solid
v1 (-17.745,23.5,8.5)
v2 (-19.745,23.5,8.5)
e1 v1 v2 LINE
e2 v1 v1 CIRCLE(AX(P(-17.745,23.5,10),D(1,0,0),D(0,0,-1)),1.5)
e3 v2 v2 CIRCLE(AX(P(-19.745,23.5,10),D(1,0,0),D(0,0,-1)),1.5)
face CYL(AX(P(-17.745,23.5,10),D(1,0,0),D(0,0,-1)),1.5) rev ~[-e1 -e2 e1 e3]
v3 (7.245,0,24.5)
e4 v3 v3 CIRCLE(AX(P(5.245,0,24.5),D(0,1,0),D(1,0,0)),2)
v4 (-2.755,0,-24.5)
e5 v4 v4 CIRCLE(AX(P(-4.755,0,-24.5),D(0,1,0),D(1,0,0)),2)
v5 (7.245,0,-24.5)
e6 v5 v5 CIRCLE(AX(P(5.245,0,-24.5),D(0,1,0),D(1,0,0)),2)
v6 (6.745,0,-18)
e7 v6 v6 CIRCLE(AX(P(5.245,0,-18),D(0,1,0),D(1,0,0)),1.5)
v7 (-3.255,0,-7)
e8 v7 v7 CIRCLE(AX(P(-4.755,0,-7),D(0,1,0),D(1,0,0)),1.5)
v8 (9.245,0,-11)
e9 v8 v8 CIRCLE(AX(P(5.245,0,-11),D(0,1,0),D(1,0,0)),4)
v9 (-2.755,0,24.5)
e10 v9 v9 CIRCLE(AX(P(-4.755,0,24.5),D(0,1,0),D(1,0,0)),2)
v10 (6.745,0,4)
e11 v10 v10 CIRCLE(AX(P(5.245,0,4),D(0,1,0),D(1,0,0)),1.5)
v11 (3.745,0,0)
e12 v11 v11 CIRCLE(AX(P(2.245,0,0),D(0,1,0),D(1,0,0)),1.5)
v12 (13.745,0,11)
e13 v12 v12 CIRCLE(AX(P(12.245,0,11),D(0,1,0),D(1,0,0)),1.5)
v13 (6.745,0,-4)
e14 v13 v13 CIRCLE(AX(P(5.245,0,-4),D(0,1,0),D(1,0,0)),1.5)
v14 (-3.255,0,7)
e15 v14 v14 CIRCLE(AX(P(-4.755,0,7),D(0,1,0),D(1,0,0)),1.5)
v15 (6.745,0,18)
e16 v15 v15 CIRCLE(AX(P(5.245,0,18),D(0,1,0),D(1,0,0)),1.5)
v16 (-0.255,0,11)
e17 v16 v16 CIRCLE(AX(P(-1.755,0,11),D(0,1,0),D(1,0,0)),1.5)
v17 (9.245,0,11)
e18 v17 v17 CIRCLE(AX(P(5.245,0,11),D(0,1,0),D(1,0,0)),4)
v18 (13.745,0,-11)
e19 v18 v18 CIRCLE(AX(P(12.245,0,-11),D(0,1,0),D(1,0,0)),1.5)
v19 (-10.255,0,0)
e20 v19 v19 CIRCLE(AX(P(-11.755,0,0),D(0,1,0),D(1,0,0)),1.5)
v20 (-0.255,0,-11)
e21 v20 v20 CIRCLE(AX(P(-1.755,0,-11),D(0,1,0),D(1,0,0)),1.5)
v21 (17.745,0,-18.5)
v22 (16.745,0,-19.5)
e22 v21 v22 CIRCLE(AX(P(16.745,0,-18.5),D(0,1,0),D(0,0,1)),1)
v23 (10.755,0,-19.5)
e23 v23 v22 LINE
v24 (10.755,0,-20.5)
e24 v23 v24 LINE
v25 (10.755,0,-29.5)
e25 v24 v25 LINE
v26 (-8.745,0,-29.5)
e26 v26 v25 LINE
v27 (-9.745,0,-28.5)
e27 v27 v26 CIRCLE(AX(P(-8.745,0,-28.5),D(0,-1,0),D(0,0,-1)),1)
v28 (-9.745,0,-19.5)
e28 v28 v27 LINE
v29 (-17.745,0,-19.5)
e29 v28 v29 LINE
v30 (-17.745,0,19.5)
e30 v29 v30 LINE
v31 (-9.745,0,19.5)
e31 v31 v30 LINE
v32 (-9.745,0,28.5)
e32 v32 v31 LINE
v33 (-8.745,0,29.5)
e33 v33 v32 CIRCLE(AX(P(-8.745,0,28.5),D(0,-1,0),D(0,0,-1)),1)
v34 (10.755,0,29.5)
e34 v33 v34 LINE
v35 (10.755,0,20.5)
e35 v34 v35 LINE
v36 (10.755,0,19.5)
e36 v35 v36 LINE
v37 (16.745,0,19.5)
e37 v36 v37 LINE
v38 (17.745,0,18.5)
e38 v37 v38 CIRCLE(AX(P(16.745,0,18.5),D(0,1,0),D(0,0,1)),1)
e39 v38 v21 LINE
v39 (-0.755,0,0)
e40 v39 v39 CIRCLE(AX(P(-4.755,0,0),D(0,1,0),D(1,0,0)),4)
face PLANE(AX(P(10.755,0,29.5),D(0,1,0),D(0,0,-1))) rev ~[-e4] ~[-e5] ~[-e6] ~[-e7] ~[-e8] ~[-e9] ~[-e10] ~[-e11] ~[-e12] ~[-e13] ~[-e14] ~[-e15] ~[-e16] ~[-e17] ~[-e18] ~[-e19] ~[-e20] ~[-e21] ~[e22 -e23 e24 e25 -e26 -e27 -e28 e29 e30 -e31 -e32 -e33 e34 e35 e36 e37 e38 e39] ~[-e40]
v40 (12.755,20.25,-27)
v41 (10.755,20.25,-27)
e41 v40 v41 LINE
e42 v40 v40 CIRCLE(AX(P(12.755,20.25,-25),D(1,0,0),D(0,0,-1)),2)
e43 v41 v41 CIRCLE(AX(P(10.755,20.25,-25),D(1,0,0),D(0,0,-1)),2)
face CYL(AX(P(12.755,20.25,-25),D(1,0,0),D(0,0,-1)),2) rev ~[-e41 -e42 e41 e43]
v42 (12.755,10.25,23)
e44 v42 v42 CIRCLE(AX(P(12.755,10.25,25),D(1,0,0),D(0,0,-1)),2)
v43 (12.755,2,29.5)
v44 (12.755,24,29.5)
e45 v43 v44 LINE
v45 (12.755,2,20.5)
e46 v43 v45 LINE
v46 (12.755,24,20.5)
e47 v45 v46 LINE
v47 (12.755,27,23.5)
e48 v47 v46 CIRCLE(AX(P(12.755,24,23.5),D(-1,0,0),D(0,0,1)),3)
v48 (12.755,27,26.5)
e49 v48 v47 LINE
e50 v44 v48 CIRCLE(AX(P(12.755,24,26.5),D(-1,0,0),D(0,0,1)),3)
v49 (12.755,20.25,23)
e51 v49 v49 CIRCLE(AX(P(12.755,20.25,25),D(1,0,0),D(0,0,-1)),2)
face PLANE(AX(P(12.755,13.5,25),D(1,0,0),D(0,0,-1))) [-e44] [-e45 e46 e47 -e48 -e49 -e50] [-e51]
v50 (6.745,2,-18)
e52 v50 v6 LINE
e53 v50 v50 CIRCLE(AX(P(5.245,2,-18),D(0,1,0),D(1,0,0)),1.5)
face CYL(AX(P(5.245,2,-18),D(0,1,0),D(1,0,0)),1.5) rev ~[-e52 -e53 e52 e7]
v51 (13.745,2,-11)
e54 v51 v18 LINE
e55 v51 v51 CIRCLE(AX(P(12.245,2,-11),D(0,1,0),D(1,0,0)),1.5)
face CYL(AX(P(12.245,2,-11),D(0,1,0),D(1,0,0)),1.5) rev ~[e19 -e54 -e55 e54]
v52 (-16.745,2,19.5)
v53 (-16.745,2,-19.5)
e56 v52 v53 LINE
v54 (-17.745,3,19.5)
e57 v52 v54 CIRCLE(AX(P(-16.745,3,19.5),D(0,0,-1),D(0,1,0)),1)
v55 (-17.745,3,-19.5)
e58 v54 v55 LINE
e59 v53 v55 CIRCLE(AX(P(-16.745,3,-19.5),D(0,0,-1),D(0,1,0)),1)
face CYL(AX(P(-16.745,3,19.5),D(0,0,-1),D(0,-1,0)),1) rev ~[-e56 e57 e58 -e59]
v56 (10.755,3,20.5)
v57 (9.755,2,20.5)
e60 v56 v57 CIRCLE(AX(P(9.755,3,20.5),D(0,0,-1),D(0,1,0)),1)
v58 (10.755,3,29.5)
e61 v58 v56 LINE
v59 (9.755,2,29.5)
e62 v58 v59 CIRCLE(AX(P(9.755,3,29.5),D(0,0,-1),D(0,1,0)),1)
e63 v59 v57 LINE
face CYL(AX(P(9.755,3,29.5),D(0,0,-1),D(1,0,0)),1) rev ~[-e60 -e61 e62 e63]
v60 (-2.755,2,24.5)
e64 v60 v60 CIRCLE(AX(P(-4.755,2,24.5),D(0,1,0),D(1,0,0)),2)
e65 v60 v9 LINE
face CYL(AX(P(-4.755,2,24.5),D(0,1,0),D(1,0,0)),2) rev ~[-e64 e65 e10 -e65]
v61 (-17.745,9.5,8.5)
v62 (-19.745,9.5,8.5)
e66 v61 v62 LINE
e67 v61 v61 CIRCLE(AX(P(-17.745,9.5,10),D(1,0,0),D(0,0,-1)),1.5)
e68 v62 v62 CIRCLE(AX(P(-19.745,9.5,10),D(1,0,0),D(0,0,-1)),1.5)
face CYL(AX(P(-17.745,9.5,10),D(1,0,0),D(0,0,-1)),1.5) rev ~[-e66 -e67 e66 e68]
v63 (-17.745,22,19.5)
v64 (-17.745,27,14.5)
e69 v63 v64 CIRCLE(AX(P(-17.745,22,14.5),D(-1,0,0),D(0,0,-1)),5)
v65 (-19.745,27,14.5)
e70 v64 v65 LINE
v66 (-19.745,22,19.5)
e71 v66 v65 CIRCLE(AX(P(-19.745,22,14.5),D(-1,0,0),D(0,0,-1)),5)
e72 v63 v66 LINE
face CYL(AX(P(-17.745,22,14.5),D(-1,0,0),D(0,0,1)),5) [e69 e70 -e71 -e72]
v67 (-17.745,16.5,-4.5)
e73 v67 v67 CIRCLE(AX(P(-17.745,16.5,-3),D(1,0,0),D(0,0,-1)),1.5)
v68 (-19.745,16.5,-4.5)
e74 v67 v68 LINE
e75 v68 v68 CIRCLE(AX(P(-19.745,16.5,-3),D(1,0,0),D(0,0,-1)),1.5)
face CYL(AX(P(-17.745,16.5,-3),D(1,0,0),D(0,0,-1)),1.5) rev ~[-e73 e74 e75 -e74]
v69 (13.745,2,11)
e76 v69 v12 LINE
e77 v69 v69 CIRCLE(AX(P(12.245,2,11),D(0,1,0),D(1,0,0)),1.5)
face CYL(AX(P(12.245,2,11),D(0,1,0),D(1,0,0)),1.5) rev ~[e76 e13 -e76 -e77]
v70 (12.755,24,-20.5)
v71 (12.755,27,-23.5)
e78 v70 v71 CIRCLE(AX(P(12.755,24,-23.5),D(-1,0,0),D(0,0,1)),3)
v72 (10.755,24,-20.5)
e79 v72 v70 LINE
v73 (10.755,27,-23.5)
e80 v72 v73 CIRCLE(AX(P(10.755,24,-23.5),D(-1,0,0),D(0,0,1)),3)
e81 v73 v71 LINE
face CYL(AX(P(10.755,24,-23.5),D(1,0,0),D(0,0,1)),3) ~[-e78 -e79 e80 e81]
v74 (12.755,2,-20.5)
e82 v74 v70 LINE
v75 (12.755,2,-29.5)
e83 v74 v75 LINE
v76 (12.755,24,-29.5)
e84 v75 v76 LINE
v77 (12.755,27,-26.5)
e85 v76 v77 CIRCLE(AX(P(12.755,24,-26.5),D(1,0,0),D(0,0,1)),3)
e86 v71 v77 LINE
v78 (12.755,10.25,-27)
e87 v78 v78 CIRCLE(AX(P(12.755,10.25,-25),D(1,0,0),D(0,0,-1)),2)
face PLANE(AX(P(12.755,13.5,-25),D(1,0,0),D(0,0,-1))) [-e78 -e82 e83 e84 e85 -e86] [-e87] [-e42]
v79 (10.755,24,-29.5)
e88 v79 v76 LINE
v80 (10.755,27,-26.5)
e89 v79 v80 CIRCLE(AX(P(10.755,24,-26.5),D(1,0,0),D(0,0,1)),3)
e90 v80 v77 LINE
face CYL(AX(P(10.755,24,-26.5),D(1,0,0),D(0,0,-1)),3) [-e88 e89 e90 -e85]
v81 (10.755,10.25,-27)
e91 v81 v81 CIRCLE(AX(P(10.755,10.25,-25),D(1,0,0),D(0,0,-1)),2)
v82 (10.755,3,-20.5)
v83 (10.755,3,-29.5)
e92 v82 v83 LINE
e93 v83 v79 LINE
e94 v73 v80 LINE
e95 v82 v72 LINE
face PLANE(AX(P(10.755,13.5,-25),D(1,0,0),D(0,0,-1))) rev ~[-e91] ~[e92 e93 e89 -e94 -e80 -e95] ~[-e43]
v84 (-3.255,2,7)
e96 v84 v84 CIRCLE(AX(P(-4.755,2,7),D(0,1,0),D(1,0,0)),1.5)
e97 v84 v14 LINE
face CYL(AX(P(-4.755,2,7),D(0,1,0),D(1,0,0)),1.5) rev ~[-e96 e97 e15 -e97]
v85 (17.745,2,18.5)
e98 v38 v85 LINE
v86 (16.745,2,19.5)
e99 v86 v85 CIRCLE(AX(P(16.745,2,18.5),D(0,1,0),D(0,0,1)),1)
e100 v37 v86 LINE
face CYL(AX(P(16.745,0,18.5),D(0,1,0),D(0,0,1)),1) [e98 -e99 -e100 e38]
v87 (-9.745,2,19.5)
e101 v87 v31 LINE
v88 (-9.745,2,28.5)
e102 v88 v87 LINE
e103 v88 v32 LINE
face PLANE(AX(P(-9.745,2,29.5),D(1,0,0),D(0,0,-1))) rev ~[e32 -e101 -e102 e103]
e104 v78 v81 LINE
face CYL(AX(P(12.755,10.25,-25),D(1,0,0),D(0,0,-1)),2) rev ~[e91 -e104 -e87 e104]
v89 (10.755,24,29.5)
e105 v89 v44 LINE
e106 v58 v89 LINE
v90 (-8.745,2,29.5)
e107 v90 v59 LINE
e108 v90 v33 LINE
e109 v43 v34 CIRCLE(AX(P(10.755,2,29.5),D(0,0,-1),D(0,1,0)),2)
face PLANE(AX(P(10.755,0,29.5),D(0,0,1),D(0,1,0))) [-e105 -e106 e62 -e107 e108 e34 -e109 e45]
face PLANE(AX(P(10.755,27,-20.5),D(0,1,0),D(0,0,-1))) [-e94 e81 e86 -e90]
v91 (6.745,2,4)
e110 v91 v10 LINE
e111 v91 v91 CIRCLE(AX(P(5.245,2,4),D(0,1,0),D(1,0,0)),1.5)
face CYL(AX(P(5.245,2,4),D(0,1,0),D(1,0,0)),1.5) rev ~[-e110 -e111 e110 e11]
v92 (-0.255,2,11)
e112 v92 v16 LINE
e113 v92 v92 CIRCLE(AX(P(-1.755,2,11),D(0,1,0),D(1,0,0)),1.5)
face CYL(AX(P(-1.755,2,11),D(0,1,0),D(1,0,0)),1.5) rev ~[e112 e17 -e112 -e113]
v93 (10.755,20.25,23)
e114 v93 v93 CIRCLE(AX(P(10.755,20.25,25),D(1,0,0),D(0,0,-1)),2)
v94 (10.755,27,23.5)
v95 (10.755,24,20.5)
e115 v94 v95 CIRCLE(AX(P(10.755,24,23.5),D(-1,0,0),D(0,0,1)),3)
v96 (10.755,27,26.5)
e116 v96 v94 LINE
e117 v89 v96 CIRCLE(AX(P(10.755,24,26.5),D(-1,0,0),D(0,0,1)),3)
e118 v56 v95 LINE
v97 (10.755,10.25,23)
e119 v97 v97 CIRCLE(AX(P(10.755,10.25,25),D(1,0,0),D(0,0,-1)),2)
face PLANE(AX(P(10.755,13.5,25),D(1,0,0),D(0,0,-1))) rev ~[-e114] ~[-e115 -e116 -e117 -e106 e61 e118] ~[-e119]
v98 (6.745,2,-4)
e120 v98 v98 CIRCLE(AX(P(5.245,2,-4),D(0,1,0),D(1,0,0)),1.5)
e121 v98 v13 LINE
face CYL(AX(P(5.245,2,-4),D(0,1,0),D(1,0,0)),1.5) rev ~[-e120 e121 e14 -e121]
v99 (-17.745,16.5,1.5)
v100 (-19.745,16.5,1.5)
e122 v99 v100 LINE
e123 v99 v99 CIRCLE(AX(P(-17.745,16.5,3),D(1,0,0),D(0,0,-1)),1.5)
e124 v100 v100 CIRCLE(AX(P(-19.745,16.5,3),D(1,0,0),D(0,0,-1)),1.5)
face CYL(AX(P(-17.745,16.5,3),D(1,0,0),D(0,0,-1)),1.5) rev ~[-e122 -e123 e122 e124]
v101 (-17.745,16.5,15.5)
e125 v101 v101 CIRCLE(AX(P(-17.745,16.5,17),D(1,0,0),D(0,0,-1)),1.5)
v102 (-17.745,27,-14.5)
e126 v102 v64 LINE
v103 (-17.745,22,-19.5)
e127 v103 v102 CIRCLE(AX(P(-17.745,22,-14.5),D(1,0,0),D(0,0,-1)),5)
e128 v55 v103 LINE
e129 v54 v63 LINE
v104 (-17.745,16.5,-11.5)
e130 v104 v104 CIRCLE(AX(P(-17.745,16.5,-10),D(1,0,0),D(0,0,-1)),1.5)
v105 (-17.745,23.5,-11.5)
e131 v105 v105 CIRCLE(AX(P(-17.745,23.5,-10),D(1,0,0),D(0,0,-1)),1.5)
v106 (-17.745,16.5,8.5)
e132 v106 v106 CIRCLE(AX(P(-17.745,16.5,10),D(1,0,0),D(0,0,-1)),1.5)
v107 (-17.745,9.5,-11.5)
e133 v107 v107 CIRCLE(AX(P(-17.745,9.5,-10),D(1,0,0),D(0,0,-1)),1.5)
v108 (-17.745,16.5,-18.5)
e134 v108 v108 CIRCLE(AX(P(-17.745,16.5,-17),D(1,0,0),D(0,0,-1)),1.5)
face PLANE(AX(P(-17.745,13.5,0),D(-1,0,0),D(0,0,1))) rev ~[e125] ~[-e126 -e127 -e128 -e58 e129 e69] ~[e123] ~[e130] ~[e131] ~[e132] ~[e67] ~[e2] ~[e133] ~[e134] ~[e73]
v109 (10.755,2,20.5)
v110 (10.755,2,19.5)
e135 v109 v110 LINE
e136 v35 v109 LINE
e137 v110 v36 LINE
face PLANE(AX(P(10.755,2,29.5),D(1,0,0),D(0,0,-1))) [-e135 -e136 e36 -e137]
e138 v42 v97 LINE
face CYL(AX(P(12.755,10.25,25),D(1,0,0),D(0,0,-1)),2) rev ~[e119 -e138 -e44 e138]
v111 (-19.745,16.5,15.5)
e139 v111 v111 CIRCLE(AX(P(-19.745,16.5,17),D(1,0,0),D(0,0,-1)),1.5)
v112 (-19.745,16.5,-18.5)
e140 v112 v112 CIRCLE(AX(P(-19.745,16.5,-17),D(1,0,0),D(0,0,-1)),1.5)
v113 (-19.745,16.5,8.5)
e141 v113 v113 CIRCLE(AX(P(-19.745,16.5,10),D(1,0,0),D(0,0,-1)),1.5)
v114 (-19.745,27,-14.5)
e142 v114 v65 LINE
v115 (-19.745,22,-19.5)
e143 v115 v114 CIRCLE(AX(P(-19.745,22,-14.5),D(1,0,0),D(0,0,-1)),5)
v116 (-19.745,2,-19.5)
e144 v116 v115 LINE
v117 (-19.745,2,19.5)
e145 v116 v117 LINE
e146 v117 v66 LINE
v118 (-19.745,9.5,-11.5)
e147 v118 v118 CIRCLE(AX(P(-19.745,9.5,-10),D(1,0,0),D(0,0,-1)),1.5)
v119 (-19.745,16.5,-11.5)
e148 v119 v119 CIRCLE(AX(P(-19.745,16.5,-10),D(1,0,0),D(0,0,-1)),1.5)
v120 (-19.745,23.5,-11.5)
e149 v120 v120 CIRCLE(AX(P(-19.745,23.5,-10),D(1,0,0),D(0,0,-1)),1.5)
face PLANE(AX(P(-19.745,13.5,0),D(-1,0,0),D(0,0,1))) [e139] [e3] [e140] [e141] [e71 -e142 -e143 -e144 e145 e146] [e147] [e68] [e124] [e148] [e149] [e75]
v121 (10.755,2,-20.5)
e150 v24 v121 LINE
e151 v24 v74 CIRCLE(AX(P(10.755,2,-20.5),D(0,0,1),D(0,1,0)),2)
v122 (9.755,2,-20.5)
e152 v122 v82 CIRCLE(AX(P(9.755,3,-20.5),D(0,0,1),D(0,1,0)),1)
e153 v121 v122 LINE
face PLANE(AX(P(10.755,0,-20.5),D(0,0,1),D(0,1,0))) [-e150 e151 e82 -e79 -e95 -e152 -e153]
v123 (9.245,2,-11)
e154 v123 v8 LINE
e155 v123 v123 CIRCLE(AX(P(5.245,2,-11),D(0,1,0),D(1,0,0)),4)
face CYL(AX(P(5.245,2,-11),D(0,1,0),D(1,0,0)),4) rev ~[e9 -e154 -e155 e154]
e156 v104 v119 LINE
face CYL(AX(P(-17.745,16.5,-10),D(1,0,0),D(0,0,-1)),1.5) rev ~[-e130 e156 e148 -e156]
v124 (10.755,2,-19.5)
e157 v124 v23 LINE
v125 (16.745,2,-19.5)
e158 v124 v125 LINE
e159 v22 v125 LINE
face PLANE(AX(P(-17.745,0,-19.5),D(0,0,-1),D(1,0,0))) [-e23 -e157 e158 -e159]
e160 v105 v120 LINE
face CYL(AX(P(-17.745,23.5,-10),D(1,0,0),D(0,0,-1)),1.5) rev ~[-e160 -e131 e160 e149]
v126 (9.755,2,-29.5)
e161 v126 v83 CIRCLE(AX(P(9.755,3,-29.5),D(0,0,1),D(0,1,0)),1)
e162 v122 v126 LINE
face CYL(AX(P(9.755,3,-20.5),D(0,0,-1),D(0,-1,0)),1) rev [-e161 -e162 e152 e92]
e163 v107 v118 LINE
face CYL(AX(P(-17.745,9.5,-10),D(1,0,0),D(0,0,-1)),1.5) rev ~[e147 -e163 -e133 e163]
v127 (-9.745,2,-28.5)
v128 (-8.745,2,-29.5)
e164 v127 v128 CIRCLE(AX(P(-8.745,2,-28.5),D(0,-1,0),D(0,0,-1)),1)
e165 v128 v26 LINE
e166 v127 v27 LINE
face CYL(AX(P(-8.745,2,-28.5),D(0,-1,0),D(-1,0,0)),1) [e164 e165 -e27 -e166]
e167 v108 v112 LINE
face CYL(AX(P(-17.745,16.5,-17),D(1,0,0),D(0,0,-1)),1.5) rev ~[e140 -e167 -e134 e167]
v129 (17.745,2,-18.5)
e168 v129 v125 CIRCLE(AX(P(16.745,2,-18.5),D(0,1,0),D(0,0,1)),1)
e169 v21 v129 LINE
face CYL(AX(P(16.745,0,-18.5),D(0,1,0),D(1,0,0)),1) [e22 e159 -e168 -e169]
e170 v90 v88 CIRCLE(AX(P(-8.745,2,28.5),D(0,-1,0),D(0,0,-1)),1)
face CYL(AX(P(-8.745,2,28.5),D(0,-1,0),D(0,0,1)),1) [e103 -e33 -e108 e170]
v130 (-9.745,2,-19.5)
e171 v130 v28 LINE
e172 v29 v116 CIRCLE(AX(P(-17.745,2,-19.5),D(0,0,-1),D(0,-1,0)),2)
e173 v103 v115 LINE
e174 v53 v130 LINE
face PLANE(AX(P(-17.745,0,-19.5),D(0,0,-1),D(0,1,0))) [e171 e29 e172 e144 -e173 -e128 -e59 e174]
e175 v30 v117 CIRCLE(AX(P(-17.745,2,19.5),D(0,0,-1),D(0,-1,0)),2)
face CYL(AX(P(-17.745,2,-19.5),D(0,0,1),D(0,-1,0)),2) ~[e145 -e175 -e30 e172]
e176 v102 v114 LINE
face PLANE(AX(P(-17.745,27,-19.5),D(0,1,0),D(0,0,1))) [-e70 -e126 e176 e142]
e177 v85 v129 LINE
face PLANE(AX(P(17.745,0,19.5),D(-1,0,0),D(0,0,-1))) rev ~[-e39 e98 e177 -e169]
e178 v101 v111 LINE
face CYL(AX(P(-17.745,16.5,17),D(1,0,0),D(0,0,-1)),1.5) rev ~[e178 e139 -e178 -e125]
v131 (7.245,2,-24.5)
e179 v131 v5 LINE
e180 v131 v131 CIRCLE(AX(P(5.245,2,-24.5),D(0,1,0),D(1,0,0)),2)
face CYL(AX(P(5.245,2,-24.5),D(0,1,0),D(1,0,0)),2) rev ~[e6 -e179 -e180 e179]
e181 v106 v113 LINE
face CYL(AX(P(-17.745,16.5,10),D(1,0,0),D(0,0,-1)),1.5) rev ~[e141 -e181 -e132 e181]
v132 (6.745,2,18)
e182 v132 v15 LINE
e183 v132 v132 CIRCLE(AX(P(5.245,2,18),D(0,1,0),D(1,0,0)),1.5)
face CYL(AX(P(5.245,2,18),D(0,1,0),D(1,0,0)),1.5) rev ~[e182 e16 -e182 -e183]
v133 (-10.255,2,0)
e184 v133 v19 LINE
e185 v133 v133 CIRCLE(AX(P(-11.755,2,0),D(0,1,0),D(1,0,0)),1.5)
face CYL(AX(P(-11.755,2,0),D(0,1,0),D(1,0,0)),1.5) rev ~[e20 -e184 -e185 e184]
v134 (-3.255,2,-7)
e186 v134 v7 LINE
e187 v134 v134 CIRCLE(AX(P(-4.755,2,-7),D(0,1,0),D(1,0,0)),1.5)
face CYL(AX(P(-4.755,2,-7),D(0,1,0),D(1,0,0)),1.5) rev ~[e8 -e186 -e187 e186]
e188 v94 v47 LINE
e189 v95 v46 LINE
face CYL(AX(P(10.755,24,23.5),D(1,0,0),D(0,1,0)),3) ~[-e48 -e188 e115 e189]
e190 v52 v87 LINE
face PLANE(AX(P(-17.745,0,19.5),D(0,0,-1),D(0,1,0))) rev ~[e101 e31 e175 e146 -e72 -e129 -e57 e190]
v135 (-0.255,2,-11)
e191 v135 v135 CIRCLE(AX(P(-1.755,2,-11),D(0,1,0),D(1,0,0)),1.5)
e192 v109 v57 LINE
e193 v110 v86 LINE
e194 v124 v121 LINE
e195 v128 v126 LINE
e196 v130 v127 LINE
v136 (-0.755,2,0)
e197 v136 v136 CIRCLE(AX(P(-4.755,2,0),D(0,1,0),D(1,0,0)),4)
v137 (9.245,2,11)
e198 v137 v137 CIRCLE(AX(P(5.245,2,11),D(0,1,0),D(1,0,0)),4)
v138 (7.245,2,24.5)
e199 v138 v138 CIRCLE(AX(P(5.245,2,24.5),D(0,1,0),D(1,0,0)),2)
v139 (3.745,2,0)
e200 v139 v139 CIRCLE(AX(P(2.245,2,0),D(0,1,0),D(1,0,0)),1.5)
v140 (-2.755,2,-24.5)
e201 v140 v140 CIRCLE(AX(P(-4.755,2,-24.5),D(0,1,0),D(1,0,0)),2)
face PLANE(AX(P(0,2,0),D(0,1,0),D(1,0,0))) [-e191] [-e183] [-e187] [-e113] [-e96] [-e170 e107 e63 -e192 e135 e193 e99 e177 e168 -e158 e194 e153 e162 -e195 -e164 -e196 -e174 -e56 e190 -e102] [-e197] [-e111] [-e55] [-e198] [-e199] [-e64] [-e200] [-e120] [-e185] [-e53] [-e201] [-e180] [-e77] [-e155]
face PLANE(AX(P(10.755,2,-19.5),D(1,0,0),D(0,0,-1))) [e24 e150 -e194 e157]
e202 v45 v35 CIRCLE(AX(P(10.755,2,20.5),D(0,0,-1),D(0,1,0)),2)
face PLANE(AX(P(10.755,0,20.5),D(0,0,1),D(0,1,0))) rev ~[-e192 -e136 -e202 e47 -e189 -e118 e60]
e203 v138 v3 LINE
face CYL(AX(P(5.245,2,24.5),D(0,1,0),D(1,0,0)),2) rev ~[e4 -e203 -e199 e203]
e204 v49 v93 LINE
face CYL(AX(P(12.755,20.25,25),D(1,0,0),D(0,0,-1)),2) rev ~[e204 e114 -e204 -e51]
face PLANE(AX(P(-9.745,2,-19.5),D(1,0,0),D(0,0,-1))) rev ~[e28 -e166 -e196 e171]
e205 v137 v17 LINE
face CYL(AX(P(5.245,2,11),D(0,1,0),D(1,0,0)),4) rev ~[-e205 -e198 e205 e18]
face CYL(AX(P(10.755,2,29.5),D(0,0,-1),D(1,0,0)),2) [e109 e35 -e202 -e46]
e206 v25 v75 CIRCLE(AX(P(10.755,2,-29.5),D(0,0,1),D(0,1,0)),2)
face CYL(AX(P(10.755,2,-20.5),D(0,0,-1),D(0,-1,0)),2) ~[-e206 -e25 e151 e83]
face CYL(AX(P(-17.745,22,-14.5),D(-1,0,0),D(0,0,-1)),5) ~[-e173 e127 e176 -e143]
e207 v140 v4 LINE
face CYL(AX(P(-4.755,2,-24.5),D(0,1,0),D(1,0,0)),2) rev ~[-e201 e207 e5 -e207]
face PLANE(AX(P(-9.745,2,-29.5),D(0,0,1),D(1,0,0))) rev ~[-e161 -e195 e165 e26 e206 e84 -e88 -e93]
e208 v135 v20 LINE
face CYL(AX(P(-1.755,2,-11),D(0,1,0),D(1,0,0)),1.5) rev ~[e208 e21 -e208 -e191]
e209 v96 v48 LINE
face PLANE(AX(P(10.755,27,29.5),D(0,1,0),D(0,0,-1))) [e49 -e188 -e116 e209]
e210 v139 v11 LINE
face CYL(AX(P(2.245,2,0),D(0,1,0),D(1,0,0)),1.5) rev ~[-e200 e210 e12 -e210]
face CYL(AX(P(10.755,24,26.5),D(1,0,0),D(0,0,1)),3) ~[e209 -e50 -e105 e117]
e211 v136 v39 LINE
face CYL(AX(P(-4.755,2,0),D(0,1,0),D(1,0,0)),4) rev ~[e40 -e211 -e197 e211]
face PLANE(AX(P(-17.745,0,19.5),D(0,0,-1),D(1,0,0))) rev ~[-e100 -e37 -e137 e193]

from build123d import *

# Parameters (mm, degrees)
SKETCH1_W           = 35.49
SKETCH1_H           = 39
BOSS_EXTRUDE1_DEPTH = 2
SKETCH2_W           = 20.5
SKETCH2_H           = 10
BOSS_EXTRUDE2_DEPTH = 2
SKETCH3_W           = 39
SKETCH3_H           = 27
BOSS_EXTRUDE3_DEPTH = 2
SKETCH4_W           = 9
SKETCH4_H           = 27
BOSS_EXTRUDE4_DEPTH = 2
SKETCH5_R           = 4
SKETCH5_R_2         = 2
SKETCH5_R_3         = 1.5
CUT_EXTRUDE1_DEPTH  = 2
SKETCH6_R           = 2
CUT_EXTRUDE2_DEPTH  = 2
SKETCH7_R           = 1.5
CUT_EXTRUDE3_DEPTH  = 2
FILLET1_R           = 2
FILLET2_R           = 1
FILLET3_R           = 3
FILLET4_R           = 5


with BuildPart() as part:
    # Sketch1 → Boss-Extrude1 (new body)
    with BuildSketch(Plane(origin=(0, 0, 0), x_dir=(1, 0, 0), z_dir=(0, 1, 0))):
        Rectangle(SKETCH1_W, SKETCH1_H)
    extrude(amount=BOSS_EXTRUDE1_DEPTH)

    # Sketch2 → Boss-Extrude2 (add)
    with BuildSketch(Plane(origin=(0, 2, 0), x_dir=(1, 0, 0), z_dir=(0, 1, 0))):
        with Locations((0.505, 24.5)):
            Rectangle(SKETCH2_W, SKETCH2_H)
        with Locations((0.505, -24.5)):
            Rectangle(SKETCH2_W, SKETCH2_H)
    extrude(amount=-BOSS_EXTRUDE2_DEPTH)

    # Sketch3 → Boss-Extrude3 (add)
    with BuildSketch(Plane.ZY.offset(17.745)):
        with Locations((0, 13.5)):
            Rectangle(SKETCH3_W, SKETCH3_H)
    extrude(amount=BOSS_EXTRUDE3_DEPTH)

    # Sketch4 → Boss-Extrude4 (add)
    with BuildSketch(Plane(origin=(10.755, 0, 0), x_dir=(0, 0, -1), z_dir=(1, 0, 0))):
        with Locations((-25, 13.5)):
            Rectangle(SKETCH4_W, SKETCH4_H)
        with Locations((25, 13.5)):
            Rectangle(SKETCH4_W, SKETCH4_H)
    extrude(amount=BOSS_EXTRUDE4_DEPTH)

    # Sketch5 → Cut-Extrude1 (cut)
    with BuildSketch(Plane(origin=(0, 2, 0), x_dir=(1, 0, 0), z_dir=(0, 1, 0))):
        with Locations((-4.755, 0)):
            Circle(SKETCH5_R)
        with Locations((5.245, 11)):
            Circle(SKETCH5_R)
        with Locations((5.245, -11)):
            Circle(SKETCH5_R)
        with Locations((-4.755, -24.5)):
            Circle(SKETCH5_R_2)
        with Locations((5.245, -24.5)):
            Circle(SKETCH5_R_2)
        with Locations((5.245, 24.5)):
            Circle(SKETCH5_R_2)
        with Locations((5.245, 18)):
            Circle(SKETCH5_R_3)
        with Locations((12.245, 11)):
            Circle(SKETCH5_R_3)
        with Locations((5.245, 4)):
            Circle(SKETCH5_R_3)
        with Locations((-1.755, 11)):
            Circle(SKETCH5_R_3)
        with Locations((-4.755, 7)):
            Circle(SKETCH5_R_3)
        with Locations((2.245, 0)):
            Circle(SKETCH5_R_3)
        with Locations((-4.755, -7)):
            Circle(SKETCH5_R_3)
        with Locations((-11.755, 0)):
            Circle(SKETCH5_R_3)
        with Locations((5.245, -4)):
            Circle(SKETCH5_R_3)
        with Locations((12.245, -11)):
            Circle(SKETCH5_R_3)
        with Locations((5.245, -18)):
            Circle(SKETCH5_R_3)
        with Locations((-1.755, -11)):
            Circle(SKETCH5_R_3)
        with Locations((-4.755, 24.5)):
            Circle(SKETCH5_R_2)
    extrude(amount=-CUT_EXTRUDE1_DEPTH, mode=Mode.SUBTRACT)

    # Sketch6 → Cut-Extrude2 (cut)
    with BuildSketch(Plane(origin=(12.755, 0, 0), x_dir=(0, 0, -1), z_dir=(1, 0, 0))):
        with Locations((-25, 20.25)):
            Circle(SKETCH6_R)
        with Locations((-25, 10.25)):
            Circle(SKETCH6_R)
        with Locations((25, 20.25)):
            Circle(SKETCH6_R)
        with Locations((25, 10.25)):
            Circle(SKETCH6_R)
    extrude(amount=-CUT_EXTRUDE2_DEPTH, mode=Mode.SUBTRACT)

    # Sketch7 → Cut-Extrude3 (cut)
    with BuildSketch(Plane(origin=(-17.745, 0, 0), x_dir=(0, 0, -1), z_dir=(1, 0, 0))):
        with Locations((-10, 16.5)):
            Circle(SKETCH7_R)
        with Locations((-10, 23.5)):
            Circle(SKETCH7_R)
        with Locations((-3, 16.5)):
            Circle(SKETCH7_R)
        with Locations((-10, 9.5)):
            Circle(SKETCH7_R)
        with Locations((-17, 16.5)):
            Circle(SKETCH7_R)
        with Locations((10, 16.5)):
            Circle(SKETCH7_R)
        with Locations((10, 23.5)):
            Circle(SKETCH7_R)
        with Locations((17, 16.5)):
            Circle(SKETCH7_R)
        with Locations((10, 9.5)):
            Circle(SKETCH7_R)
        with Locations((3, 16.5)):
            Circle(SKETCH7_R)
    extrude(amount=-CUT_EXTRUDE3_DEPTH, mode=Mode.SUBTRACT)

    # Fillet1
    fillet1_edges = [part.edges().sort_by_distance(p)[0] for p in [
        (-19.745, 0, 0),
        (12.755, 0, -25),
        (12.755, 0, 25),
    ]]
    fillet(fillet1_edges, radius=FILLET1_R)

    # Fillet2
    fillet2_edges = [part.edges().sort_by_distance(p)[0] for p in [
        (-17.745, 2, 0),
        (10.755, 2, -25),
        (10.755, 2, 25),
        (-9.745, 1, -29.5),
        (17.745, 1, -19.5),
        (17.745, 1, 19.5),
        (-9.745, 1, 29.5),
    ]]
    fillet(fillet2_edges, radius=FILLET2_R)

    # Fillet3
    fillet3_edges = [part.edges().sort_by_distance(p)[0] for p in [
        (11.755, 27, 29.5),
        (11.755, 27, 20.5),
        (11.755, 27, -29.5),
        (11.755, 27, -20.5),
    ]]
    fillet(fillet3_edges, radius=FILLET3_R)

    # Fillet4
    fillet4_edges = [part.edges().sort_by_distance(p)[0] for p in [
        (-18.745, 27, -19.5),
        (-18.745, 27, 19.5),
    ]]
    fillet(fillet4_edges, radius=FILLET4_R)


solid = part.part
